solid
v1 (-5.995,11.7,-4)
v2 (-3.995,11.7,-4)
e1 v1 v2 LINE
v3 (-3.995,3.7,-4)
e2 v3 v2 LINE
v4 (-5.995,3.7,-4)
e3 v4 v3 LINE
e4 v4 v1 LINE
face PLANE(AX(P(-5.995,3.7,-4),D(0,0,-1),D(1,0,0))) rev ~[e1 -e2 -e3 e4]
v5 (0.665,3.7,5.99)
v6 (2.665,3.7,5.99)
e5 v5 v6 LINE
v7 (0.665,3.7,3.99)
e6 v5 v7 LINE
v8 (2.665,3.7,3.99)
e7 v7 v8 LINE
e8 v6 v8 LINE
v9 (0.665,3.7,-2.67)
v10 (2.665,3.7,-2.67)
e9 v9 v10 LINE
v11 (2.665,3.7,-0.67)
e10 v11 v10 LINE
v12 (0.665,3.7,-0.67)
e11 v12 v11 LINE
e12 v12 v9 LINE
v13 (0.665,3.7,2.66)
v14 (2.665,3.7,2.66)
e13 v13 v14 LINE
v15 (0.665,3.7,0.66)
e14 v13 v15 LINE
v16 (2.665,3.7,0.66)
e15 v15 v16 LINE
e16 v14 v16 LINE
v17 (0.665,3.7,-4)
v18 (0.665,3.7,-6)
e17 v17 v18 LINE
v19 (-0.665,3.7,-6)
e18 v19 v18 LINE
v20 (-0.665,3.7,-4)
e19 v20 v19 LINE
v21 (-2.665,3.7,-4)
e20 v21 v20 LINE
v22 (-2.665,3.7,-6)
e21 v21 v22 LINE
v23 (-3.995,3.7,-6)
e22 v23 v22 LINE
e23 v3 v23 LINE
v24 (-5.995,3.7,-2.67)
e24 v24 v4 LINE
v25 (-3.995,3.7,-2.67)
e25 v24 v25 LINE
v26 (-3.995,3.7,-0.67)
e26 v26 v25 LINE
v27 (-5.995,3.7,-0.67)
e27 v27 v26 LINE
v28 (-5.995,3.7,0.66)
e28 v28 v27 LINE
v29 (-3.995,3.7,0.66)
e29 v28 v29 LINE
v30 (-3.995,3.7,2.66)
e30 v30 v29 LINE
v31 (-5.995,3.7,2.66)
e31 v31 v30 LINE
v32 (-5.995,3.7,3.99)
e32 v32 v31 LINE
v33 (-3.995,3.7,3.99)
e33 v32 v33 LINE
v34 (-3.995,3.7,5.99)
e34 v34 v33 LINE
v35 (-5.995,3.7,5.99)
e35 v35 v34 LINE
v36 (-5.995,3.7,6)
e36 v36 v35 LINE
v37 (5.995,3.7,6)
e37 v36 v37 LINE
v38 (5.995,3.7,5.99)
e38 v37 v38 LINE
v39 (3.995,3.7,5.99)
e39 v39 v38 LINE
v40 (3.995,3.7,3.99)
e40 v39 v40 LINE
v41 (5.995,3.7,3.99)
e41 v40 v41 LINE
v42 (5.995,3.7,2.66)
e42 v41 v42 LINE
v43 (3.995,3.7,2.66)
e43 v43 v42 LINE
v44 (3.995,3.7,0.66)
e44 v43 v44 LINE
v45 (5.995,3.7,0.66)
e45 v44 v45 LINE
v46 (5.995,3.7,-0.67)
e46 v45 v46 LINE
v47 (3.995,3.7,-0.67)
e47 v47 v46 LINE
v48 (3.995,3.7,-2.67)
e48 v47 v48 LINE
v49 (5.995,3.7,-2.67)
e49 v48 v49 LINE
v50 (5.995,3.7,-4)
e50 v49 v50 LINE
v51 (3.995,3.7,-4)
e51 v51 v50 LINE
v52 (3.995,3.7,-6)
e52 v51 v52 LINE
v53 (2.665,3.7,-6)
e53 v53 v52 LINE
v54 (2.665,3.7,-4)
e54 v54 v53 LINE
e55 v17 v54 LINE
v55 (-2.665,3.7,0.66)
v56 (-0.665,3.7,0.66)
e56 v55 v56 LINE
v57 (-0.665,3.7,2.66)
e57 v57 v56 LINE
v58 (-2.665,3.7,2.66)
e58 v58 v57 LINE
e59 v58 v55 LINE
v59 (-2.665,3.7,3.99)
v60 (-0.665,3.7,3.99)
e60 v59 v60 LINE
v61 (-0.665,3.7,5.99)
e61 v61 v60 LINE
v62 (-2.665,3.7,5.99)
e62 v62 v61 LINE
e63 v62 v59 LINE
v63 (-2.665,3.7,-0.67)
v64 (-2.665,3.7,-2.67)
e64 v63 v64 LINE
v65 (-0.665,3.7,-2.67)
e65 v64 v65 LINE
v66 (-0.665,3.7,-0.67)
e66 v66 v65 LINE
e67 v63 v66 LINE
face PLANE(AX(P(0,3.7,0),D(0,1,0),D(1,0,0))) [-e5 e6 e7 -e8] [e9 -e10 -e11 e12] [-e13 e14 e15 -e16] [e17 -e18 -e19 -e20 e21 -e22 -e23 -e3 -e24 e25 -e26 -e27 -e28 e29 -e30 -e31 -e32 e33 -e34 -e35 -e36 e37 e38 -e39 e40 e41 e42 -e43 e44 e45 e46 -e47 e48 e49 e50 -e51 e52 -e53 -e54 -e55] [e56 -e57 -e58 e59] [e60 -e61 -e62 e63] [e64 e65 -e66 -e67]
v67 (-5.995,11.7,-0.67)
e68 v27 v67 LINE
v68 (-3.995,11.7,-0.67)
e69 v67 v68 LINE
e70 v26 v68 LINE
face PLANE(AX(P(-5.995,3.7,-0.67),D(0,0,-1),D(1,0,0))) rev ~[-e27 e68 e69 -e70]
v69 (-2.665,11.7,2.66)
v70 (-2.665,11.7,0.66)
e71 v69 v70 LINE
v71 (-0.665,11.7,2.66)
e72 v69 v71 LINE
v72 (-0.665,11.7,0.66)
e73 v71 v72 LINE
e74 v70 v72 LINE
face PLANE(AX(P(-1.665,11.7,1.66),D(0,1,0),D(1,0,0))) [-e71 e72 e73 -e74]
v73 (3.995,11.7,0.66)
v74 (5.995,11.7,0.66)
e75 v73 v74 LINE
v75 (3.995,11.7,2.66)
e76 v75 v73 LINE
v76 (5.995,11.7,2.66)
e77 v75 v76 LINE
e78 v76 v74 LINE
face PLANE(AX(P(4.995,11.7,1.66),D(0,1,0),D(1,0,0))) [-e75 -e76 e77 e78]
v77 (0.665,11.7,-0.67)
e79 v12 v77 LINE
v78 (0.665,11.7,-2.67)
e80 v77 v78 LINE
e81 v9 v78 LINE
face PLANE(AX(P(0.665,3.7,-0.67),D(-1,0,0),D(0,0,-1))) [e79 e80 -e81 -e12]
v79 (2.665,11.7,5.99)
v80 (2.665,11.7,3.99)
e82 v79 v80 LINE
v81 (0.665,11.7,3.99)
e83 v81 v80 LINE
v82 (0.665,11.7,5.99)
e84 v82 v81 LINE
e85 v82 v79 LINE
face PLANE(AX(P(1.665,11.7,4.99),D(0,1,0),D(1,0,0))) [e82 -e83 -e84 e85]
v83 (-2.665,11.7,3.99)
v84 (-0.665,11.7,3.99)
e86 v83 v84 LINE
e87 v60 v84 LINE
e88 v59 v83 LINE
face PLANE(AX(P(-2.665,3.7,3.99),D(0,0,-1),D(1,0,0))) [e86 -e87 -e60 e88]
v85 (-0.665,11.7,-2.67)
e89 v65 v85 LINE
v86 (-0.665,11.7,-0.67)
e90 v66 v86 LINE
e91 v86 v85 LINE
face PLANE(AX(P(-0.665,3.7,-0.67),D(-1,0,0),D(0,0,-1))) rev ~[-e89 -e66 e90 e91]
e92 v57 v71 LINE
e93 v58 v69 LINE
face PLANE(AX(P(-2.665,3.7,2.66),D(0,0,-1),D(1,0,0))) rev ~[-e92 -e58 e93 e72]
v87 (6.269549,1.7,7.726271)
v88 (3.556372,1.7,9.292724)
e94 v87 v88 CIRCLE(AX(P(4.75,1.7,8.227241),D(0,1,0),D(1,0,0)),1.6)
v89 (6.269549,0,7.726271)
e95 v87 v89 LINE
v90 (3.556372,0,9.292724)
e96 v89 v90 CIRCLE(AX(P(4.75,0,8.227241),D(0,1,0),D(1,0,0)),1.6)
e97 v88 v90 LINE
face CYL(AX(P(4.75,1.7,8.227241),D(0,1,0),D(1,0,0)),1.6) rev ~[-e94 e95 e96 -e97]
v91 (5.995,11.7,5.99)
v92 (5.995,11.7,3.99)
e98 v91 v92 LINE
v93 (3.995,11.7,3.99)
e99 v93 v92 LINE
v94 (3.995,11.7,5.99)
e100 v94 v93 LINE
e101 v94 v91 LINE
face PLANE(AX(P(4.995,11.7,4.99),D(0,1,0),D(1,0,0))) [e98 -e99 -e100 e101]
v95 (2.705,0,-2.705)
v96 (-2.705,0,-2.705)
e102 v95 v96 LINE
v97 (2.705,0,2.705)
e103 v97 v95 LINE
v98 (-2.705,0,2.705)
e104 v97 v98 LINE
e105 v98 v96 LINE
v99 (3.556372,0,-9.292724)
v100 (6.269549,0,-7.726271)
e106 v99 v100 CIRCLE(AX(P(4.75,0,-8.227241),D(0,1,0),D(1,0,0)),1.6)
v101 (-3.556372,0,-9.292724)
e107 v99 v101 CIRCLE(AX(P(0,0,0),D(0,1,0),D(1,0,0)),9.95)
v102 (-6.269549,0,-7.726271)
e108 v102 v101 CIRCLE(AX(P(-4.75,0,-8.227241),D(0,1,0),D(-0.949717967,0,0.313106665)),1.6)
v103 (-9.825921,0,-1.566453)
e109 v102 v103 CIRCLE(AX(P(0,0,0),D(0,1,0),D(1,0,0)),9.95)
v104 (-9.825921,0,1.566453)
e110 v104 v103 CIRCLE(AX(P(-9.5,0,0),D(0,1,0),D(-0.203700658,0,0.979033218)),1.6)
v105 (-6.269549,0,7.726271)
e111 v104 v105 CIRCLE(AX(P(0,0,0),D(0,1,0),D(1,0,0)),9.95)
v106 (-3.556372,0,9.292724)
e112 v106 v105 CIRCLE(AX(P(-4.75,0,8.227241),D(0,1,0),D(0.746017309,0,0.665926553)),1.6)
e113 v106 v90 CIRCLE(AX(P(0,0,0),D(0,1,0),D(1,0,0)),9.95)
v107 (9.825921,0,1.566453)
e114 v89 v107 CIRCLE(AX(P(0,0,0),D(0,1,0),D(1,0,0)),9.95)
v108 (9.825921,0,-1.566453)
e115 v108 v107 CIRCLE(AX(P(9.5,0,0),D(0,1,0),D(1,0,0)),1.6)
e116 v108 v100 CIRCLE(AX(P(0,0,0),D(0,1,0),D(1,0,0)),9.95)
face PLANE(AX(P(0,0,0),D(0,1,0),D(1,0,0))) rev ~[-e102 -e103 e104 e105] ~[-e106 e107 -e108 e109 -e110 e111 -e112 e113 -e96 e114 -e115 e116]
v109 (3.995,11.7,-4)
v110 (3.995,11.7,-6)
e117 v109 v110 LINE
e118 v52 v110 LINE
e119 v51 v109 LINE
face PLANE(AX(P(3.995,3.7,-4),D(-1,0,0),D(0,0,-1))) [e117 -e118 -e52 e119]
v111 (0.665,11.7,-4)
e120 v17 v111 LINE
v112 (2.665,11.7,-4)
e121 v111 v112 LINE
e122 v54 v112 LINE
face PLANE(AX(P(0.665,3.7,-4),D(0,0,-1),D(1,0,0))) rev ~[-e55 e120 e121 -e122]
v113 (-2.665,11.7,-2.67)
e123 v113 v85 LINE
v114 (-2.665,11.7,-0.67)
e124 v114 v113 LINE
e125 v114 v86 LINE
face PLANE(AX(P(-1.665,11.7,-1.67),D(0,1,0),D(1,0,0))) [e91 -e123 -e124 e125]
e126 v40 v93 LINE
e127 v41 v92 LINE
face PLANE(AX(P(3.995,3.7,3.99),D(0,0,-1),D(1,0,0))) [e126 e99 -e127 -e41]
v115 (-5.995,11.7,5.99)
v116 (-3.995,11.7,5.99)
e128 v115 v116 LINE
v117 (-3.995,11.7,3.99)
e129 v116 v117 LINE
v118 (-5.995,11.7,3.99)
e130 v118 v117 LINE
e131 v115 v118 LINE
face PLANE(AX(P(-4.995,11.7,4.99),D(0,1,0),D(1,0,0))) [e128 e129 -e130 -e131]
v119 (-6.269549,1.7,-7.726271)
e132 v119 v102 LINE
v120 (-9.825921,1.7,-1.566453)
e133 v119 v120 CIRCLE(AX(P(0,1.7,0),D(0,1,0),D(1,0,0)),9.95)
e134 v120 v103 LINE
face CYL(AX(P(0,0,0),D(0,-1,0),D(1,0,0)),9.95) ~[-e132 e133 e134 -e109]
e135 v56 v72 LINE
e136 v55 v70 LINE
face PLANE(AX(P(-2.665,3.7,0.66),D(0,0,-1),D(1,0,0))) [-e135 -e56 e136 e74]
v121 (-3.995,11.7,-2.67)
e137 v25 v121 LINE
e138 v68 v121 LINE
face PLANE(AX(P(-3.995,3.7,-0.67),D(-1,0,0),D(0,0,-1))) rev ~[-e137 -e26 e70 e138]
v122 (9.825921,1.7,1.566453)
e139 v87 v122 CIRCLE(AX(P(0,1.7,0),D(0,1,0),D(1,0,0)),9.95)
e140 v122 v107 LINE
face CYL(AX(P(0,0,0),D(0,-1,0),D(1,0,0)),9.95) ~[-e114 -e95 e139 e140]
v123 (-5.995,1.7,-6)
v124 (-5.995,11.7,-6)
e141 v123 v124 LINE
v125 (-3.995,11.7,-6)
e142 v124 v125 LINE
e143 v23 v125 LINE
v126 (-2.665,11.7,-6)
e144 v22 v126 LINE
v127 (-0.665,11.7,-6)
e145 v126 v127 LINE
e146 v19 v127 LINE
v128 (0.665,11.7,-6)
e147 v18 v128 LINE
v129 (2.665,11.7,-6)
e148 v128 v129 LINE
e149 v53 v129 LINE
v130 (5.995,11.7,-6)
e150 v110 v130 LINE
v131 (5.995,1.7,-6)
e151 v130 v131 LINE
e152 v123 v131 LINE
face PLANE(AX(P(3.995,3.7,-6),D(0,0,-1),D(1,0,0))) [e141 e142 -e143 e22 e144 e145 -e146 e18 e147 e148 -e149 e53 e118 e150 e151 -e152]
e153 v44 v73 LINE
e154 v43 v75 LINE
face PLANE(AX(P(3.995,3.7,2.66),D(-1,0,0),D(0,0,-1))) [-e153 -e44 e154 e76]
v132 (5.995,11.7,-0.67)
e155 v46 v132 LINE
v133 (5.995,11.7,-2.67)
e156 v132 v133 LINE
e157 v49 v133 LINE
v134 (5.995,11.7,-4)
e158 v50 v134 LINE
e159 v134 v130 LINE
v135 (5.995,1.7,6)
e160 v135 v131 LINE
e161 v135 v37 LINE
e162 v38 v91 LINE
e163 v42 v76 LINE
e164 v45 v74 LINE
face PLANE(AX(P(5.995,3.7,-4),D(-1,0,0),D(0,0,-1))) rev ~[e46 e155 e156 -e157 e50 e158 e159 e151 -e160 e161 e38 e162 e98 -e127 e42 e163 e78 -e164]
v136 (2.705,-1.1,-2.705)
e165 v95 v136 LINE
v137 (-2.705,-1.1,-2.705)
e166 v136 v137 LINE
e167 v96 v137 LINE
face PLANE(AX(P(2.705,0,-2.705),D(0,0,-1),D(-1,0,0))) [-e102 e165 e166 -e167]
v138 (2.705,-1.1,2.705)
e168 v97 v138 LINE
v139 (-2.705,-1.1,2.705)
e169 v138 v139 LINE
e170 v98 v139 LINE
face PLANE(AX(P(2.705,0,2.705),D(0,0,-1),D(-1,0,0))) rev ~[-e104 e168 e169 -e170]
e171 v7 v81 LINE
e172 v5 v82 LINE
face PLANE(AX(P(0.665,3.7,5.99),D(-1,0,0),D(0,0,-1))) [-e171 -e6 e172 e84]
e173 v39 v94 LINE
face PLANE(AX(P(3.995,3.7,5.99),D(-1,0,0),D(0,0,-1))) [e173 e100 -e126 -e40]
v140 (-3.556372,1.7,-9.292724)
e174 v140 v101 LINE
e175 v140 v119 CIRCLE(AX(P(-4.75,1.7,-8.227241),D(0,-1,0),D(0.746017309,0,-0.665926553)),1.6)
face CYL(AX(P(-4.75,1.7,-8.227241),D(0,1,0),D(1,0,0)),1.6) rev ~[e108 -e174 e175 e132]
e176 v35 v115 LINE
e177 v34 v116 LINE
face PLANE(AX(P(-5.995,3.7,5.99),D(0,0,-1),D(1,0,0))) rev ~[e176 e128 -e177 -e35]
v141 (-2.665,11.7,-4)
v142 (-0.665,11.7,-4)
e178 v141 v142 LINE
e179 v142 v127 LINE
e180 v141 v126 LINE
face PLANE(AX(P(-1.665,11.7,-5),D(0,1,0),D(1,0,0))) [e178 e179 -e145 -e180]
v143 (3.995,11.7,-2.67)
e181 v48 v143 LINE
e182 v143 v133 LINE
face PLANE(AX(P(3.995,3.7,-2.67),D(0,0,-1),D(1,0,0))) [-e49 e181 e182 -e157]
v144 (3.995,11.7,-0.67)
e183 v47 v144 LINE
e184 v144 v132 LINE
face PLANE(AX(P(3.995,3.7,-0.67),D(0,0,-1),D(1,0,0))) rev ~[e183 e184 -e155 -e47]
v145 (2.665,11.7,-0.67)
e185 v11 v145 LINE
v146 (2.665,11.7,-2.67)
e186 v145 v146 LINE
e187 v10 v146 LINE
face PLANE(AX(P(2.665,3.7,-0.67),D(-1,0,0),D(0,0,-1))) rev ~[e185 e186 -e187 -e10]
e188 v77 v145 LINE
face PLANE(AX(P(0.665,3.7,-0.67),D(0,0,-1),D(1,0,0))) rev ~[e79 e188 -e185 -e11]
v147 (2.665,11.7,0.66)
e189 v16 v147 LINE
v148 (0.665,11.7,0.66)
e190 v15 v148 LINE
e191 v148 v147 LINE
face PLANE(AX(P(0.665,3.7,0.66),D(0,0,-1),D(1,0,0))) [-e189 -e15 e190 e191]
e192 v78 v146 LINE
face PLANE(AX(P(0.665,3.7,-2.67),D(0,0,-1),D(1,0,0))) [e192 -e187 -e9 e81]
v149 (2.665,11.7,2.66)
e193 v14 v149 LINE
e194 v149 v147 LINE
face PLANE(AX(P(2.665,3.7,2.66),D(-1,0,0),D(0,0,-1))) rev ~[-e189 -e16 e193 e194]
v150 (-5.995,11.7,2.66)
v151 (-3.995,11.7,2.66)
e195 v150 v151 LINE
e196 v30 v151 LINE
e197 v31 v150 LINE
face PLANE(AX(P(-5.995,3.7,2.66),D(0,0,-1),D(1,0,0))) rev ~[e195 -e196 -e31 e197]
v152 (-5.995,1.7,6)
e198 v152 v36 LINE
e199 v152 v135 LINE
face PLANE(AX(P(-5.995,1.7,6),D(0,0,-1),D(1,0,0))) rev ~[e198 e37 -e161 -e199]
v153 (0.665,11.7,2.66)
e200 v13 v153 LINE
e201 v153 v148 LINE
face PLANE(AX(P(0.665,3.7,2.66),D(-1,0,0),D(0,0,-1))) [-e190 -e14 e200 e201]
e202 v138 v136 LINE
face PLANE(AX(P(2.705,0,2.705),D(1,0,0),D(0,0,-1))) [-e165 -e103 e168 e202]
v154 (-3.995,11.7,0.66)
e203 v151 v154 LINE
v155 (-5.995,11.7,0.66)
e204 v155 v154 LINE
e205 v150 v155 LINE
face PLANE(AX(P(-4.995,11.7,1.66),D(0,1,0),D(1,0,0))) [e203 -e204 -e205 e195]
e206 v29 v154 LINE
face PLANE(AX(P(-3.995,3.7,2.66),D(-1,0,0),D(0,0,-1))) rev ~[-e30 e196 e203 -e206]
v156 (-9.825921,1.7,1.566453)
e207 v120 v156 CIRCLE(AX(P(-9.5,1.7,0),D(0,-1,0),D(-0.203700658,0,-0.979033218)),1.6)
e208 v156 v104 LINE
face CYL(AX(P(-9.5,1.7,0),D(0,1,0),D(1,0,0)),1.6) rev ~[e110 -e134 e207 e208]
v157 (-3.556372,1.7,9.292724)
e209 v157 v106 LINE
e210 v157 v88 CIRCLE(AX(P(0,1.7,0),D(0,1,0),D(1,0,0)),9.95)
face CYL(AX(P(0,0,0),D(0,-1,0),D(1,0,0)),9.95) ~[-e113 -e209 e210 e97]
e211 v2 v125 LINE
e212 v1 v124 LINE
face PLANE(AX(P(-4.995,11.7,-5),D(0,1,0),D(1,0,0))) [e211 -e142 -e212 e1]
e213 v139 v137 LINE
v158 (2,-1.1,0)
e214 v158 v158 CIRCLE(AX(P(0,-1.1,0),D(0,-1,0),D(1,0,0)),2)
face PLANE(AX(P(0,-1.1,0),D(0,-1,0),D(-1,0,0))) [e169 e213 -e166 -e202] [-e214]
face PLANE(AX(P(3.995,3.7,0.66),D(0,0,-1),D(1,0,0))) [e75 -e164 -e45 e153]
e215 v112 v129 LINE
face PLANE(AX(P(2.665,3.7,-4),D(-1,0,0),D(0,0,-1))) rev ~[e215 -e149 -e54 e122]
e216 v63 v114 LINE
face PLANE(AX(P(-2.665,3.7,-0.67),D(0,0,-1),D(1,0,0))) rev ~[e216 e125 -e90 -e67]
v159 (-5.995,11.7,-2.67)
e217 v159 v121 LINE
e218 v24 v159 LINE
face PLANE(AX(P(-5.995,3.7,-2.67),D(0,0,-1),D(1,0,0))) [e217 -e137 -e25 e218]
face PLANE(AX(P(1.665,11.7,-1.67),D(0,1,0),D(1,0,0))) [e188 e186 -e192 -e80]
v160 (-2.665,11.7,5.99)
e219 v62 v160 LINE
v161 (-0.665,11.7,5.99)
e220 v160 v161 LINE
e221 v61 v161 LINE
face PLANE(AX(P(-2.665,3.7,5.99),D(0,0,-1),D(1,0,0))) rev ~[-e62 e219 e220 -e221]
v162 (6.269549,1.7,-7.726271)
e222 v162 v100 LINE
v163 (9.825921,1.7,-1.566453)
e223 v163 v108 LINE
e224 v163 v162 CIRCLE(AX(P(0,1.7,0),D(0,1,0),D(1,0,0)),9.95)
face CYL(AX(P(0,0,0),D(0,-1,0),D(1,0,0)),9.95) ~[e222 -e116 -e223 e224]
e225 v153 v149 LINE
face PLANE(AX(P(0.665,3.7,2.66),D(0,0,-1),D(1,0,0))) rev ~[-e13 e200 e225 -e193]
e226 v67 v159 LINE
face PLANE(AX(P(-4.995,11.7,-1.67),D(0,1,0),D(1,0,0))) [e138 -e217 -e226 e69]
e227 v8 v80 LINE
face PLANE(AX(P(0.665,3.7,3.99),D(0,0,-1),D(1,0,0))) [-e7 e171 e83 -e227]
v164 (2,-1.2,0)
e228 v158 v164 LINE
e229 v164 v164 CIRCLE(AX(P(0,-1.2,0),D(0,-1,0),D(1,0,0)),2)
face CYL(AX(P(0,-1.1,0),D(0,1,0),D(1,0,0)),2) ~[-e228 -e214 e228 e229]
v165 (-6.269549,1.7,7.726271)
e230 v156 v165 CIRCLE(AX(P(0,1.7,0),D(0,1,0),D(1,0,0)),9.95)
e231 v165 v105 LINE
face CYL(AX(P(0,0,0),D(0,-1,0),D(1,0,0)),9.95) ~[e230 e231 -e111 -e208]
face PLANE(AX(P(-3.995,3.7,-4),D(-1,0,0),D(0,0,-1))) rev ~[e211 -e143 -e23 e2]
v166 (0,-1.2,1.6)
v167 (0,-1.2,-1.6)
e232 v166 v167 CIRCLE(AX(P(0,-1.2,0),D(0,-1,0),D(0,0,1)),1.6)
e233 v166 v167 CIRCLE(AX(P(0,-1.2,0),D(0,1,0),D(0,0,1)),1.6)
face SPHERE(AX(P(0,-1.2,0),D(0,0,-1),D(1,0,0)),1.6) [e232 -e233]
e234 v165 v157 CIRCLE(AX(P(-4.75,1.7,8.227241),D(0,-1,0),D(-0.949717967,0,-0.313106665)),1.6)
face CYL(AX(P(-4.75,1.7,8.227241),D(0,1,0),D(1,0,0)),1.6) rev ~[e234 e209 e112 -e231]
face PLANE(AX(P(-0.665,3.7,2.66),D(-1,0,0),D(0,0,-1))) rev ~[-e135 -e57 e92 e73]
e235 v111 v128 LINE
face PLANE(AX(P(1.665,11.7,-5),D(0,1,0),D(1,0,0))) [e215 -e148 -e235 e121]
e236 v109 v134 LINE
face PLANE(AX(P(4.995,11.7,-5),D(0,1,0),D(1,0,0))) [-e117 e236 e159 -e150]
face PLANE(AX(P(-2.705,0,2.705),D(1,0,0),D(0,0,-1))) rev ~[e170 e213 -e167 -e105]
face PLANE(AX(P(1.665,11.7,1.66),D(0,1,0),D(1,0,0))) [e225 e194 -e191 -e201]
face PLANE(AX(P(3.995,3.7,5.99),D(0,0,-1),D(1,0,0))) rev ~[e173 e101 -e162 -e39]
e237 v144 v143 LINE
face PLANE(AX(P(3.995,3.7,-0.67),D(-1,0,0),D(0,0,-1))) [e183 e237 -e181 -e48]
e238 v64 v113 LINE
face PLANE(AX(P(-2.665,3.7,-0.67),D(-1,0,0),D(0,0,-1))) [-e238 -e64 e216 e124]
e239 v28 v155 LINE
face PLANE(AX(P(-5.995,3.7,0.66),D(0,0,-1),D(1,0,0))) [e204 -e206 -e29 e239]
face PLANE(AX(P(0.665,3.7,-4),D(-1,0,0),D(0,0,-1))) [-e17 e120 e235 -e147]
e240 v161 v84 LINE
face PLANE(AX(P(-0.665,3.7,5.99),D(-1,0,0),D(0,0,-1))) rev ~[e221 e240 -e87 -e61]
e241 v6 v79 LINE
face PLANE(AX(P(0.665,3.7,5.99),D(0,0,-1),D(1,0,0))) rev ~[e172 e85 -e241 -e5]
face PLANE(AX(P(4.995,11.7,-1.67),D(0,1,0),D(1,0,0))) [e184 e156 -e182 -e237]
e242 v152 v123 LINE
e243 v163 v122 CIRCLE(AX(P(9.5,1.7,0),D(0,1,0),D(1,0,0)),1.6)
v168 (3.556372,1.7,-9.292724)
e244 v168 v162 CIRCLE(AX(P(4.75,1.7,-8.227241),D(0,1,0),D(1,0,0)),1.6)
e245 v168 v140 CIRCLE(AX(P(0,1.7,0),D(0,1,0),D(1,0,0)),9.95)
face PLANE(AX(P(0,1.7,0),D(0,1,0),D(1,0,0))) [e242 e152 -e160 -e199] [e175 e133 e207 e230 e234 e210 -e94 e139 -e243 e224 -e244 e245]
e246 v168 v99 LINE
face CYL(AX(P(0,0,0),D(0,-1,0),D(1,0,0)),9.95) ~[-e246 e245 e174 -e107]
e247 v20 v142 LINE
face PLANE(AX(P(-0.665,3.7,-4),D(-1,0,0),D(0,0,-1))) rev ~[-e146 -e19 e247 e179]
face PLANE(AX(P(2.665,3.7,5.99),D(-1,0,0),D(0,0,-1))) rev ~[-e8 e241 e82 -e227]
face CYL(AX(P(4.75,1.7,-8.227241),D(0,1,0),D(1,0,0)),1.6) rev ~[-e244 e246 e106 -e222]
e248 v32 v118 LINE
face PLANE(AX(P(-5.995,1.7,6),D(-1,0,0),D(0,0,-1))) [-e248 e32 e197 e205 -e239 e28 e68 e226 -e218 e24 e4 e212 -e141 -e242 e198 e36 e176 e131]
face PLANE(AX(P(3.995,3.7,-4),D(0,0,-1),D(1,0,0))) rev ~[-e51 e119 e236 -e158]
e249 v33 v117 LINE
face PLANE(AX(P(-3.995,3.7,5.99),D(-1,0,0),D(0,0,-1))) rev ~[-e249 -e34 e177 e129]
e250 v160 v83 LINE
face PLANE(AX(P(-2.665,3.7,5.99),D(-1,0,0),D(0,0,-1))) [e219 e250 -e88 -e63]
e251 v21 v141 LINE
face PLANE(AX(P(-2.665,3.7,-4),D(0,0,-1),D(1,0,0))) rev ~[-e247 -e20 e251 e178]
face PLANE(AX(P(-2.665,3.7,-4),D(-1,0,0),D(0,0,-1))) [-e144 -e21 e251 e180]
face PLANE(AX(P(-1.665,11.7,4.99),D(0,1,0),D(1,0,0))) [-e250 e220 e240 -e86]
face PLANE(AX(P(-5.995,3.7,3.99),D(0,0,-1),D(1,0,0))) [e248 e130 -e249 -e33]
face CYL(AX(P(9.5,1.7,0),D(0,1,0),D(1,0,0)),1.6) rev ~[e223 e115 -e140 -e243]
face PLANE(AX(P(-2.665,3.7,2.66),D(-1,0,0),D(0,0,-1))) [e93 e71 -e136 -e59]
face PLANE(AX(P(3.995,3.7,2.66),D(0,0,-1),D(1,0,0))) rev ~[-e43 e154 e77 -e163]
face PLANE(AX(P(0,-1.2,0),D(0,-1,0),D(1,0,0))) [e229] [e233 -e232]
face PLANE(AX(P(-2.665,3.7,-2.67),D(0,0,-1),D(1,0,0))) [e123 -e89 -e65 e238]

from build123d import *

# Parameters (mm, degrees)
SKETCH1_R           = 9.95
BOSS_EXTRUDE1_DEPTH = 1.7
SKETCH2_R           = 1.6
CUT_EXTRUDE1_DEPTH  = 2.7
SKETCH3_W           = 11.99
SKETCH3_H           = 12
BOSS_EXTRUDE2_DEPTH = 2
SKETCH4_W           = 2
SKETCH4_H           = 2
BOSS_EXTRUDE4_DEPTH = 8
SKETCH5_W           = 5.41
SKETCH5_H           = 5.41
BOSS_EXTRUDE5_DEPTH = 1.1
SKETCH6_R           = 2
BOSS_EXTRUDE6_DEPTH = 0.1
REVOLVE1_ANGLE      = 180


with BuildPart() as part:
    # Sketch1 → Boss-Extrude1 (new body)
    with BuildSketch(Plane(origin=(0, 0, 0), x_dir=(1, 0, 0), z_dir=(0, 1, 0))):
        Circle(SKETCH1_R)
    extrude(amount=BOSS_EXTRUDE1_DEPTH)

    # Sketch2 → Cut-Extrude1 (cut, through all)
    with BuildSketch(Plane(origin=(0, 1.7, 0), x_dir=(1, 0, 0), z_dir=(0, 1, 0))):
        with Locations((9.5, 0)):
            Circle(SKETCH2_R)
        with Locations((4.75, -8.227241336)):
            Circle(SKETCH2_R)
        with Locations((-4.75, -8.227241336)):
            Circle(SKETCH2_R)
        with Locations((-9.5, 0)):
            Circle(SKETCH2_R)
        with Locations((-4.75, 8.227241336)):
            Circle(SKETCH2_R)
        with Locations((4.75, 8.227241336)):
            Circle(SKETCH2_R)
    extrude(amount=-CUT_EXTRUDE1_DEPTH, mode=Mode.SUBTRACT)

    # Sketch3 → Boss-Extrude2 (add)
    with BuildSketch(Plane(origin=(0, 1.7, 0), x_dir=(1, 0, 0), z_dir=(0, 1, 0))):
        Rectangle(SKETCH3_W, SKETCH3_H)
    extrude(amount=BOSS_EXTRUDE2_DEPTH)

    # Sketch4 → Boss-Extrude4 (add)
    with BuildSketch(Plane(origin=(0, 3.7, 0), x_dir=(1, 0, 0), z_dir=(0, 1, 0))):
        with Locations((4.995, 5)):
            Rectangle(SKETCH4_W, SKETCH4_H)
        with Locations((1.665, 5)):
            Rectangle(SKETCH4_W, SKETCH4_H)
        with Locations((-1.665, 5)):
            Rectangle(SKETCH4_W, SKETCH4_H)
        with Locations((-4.995, 5)):
            Rectangle(SKETCH4_W, SKETCH4_H)
        with Locations((1.665, 1.67)):
            Rectangle(SKETCH4_W, SKETCH4_H)
        with Locations((-1.665, 1.67)):
            Rectangle(SKETCH4_W, SKETCH4_H)
        with Locations((-4.995, 1.67)):
            Rectangle(SKETCH4_W, SKETCH4_H)
        with Locations((1.665, -1.66)):
            Rectangle(SKETCH4_W, SKETCH4_H)
        with Locations((-1.665, -1.66)):
            Rectangle(SKETCH4_W, SKETCH4_H)
        with Locations((-4.995, -1.66)):
            Rectangle(SKETCH4_W, SKETCH4_H)
        with Locations((1.665, -4.99)):
            Rectangle(SKETCH4_W, SKETCH4_H)
        with Locations((-1.665, -4.99)):
            Rectangle(SKETCH4_W, SKETCH4_H)
        with Locations((-4.995, -4.99)):
            Rectangle(SKETCH4_W, SKETCH4_H)
        with Locations((4.995, 1.67)):
            Rectangle(SKETCH4_W, SKETCH4_H)
        with Locations((4.995, -1.66)):
            Rectangle(SKETCH4_W, SKETCH4_H)
        with Locations((4.995, -4.99)):
            Rectangle(SKETCH4_W, SKETCH4_H)
    extrude(amount=BOSS_EXTRUDE4_DEPTH)

    # Sketch5 → Boss-Extrude5 (add)
    with BuildSketch(Plane(origin=(0, 0, 0), x_dir=(-1, 0, 0), z_dir=(0, -1, 0))):
        Rectangle(SKETCH5_W, SKETCH5_H)
    extrude(amount=BOSS_EXTRUDE5_DEPTH)

    # Sketch6 → Boss-Extrude6 (add)
    with BuildSketch(Plane.XZ.offset(1.1)):
        Circle(SKETCH6_R)
    extrude(amount=BOSS_EXTRUDE6_DEPTH)

    # Sketch7 → Revolve1 (revolve)
    with BuildSketch(Plane(origin=(0, -1.2, 0), x_dir=(-1, 0, 0), z_dir=(0, -1, 0))):
        with BuildLine():
            Line((0, 1.6), (0, -1.6))
            ThreePointArc((0, -1.6), (-1.6, 0), (0, 1.6))
        make_face()
    revolve(axis=Axis((0, -1.2, -1.6), (0, 0, -1)), revolution_arc=REVOLVE1_ANGLE)


solid = part.part
